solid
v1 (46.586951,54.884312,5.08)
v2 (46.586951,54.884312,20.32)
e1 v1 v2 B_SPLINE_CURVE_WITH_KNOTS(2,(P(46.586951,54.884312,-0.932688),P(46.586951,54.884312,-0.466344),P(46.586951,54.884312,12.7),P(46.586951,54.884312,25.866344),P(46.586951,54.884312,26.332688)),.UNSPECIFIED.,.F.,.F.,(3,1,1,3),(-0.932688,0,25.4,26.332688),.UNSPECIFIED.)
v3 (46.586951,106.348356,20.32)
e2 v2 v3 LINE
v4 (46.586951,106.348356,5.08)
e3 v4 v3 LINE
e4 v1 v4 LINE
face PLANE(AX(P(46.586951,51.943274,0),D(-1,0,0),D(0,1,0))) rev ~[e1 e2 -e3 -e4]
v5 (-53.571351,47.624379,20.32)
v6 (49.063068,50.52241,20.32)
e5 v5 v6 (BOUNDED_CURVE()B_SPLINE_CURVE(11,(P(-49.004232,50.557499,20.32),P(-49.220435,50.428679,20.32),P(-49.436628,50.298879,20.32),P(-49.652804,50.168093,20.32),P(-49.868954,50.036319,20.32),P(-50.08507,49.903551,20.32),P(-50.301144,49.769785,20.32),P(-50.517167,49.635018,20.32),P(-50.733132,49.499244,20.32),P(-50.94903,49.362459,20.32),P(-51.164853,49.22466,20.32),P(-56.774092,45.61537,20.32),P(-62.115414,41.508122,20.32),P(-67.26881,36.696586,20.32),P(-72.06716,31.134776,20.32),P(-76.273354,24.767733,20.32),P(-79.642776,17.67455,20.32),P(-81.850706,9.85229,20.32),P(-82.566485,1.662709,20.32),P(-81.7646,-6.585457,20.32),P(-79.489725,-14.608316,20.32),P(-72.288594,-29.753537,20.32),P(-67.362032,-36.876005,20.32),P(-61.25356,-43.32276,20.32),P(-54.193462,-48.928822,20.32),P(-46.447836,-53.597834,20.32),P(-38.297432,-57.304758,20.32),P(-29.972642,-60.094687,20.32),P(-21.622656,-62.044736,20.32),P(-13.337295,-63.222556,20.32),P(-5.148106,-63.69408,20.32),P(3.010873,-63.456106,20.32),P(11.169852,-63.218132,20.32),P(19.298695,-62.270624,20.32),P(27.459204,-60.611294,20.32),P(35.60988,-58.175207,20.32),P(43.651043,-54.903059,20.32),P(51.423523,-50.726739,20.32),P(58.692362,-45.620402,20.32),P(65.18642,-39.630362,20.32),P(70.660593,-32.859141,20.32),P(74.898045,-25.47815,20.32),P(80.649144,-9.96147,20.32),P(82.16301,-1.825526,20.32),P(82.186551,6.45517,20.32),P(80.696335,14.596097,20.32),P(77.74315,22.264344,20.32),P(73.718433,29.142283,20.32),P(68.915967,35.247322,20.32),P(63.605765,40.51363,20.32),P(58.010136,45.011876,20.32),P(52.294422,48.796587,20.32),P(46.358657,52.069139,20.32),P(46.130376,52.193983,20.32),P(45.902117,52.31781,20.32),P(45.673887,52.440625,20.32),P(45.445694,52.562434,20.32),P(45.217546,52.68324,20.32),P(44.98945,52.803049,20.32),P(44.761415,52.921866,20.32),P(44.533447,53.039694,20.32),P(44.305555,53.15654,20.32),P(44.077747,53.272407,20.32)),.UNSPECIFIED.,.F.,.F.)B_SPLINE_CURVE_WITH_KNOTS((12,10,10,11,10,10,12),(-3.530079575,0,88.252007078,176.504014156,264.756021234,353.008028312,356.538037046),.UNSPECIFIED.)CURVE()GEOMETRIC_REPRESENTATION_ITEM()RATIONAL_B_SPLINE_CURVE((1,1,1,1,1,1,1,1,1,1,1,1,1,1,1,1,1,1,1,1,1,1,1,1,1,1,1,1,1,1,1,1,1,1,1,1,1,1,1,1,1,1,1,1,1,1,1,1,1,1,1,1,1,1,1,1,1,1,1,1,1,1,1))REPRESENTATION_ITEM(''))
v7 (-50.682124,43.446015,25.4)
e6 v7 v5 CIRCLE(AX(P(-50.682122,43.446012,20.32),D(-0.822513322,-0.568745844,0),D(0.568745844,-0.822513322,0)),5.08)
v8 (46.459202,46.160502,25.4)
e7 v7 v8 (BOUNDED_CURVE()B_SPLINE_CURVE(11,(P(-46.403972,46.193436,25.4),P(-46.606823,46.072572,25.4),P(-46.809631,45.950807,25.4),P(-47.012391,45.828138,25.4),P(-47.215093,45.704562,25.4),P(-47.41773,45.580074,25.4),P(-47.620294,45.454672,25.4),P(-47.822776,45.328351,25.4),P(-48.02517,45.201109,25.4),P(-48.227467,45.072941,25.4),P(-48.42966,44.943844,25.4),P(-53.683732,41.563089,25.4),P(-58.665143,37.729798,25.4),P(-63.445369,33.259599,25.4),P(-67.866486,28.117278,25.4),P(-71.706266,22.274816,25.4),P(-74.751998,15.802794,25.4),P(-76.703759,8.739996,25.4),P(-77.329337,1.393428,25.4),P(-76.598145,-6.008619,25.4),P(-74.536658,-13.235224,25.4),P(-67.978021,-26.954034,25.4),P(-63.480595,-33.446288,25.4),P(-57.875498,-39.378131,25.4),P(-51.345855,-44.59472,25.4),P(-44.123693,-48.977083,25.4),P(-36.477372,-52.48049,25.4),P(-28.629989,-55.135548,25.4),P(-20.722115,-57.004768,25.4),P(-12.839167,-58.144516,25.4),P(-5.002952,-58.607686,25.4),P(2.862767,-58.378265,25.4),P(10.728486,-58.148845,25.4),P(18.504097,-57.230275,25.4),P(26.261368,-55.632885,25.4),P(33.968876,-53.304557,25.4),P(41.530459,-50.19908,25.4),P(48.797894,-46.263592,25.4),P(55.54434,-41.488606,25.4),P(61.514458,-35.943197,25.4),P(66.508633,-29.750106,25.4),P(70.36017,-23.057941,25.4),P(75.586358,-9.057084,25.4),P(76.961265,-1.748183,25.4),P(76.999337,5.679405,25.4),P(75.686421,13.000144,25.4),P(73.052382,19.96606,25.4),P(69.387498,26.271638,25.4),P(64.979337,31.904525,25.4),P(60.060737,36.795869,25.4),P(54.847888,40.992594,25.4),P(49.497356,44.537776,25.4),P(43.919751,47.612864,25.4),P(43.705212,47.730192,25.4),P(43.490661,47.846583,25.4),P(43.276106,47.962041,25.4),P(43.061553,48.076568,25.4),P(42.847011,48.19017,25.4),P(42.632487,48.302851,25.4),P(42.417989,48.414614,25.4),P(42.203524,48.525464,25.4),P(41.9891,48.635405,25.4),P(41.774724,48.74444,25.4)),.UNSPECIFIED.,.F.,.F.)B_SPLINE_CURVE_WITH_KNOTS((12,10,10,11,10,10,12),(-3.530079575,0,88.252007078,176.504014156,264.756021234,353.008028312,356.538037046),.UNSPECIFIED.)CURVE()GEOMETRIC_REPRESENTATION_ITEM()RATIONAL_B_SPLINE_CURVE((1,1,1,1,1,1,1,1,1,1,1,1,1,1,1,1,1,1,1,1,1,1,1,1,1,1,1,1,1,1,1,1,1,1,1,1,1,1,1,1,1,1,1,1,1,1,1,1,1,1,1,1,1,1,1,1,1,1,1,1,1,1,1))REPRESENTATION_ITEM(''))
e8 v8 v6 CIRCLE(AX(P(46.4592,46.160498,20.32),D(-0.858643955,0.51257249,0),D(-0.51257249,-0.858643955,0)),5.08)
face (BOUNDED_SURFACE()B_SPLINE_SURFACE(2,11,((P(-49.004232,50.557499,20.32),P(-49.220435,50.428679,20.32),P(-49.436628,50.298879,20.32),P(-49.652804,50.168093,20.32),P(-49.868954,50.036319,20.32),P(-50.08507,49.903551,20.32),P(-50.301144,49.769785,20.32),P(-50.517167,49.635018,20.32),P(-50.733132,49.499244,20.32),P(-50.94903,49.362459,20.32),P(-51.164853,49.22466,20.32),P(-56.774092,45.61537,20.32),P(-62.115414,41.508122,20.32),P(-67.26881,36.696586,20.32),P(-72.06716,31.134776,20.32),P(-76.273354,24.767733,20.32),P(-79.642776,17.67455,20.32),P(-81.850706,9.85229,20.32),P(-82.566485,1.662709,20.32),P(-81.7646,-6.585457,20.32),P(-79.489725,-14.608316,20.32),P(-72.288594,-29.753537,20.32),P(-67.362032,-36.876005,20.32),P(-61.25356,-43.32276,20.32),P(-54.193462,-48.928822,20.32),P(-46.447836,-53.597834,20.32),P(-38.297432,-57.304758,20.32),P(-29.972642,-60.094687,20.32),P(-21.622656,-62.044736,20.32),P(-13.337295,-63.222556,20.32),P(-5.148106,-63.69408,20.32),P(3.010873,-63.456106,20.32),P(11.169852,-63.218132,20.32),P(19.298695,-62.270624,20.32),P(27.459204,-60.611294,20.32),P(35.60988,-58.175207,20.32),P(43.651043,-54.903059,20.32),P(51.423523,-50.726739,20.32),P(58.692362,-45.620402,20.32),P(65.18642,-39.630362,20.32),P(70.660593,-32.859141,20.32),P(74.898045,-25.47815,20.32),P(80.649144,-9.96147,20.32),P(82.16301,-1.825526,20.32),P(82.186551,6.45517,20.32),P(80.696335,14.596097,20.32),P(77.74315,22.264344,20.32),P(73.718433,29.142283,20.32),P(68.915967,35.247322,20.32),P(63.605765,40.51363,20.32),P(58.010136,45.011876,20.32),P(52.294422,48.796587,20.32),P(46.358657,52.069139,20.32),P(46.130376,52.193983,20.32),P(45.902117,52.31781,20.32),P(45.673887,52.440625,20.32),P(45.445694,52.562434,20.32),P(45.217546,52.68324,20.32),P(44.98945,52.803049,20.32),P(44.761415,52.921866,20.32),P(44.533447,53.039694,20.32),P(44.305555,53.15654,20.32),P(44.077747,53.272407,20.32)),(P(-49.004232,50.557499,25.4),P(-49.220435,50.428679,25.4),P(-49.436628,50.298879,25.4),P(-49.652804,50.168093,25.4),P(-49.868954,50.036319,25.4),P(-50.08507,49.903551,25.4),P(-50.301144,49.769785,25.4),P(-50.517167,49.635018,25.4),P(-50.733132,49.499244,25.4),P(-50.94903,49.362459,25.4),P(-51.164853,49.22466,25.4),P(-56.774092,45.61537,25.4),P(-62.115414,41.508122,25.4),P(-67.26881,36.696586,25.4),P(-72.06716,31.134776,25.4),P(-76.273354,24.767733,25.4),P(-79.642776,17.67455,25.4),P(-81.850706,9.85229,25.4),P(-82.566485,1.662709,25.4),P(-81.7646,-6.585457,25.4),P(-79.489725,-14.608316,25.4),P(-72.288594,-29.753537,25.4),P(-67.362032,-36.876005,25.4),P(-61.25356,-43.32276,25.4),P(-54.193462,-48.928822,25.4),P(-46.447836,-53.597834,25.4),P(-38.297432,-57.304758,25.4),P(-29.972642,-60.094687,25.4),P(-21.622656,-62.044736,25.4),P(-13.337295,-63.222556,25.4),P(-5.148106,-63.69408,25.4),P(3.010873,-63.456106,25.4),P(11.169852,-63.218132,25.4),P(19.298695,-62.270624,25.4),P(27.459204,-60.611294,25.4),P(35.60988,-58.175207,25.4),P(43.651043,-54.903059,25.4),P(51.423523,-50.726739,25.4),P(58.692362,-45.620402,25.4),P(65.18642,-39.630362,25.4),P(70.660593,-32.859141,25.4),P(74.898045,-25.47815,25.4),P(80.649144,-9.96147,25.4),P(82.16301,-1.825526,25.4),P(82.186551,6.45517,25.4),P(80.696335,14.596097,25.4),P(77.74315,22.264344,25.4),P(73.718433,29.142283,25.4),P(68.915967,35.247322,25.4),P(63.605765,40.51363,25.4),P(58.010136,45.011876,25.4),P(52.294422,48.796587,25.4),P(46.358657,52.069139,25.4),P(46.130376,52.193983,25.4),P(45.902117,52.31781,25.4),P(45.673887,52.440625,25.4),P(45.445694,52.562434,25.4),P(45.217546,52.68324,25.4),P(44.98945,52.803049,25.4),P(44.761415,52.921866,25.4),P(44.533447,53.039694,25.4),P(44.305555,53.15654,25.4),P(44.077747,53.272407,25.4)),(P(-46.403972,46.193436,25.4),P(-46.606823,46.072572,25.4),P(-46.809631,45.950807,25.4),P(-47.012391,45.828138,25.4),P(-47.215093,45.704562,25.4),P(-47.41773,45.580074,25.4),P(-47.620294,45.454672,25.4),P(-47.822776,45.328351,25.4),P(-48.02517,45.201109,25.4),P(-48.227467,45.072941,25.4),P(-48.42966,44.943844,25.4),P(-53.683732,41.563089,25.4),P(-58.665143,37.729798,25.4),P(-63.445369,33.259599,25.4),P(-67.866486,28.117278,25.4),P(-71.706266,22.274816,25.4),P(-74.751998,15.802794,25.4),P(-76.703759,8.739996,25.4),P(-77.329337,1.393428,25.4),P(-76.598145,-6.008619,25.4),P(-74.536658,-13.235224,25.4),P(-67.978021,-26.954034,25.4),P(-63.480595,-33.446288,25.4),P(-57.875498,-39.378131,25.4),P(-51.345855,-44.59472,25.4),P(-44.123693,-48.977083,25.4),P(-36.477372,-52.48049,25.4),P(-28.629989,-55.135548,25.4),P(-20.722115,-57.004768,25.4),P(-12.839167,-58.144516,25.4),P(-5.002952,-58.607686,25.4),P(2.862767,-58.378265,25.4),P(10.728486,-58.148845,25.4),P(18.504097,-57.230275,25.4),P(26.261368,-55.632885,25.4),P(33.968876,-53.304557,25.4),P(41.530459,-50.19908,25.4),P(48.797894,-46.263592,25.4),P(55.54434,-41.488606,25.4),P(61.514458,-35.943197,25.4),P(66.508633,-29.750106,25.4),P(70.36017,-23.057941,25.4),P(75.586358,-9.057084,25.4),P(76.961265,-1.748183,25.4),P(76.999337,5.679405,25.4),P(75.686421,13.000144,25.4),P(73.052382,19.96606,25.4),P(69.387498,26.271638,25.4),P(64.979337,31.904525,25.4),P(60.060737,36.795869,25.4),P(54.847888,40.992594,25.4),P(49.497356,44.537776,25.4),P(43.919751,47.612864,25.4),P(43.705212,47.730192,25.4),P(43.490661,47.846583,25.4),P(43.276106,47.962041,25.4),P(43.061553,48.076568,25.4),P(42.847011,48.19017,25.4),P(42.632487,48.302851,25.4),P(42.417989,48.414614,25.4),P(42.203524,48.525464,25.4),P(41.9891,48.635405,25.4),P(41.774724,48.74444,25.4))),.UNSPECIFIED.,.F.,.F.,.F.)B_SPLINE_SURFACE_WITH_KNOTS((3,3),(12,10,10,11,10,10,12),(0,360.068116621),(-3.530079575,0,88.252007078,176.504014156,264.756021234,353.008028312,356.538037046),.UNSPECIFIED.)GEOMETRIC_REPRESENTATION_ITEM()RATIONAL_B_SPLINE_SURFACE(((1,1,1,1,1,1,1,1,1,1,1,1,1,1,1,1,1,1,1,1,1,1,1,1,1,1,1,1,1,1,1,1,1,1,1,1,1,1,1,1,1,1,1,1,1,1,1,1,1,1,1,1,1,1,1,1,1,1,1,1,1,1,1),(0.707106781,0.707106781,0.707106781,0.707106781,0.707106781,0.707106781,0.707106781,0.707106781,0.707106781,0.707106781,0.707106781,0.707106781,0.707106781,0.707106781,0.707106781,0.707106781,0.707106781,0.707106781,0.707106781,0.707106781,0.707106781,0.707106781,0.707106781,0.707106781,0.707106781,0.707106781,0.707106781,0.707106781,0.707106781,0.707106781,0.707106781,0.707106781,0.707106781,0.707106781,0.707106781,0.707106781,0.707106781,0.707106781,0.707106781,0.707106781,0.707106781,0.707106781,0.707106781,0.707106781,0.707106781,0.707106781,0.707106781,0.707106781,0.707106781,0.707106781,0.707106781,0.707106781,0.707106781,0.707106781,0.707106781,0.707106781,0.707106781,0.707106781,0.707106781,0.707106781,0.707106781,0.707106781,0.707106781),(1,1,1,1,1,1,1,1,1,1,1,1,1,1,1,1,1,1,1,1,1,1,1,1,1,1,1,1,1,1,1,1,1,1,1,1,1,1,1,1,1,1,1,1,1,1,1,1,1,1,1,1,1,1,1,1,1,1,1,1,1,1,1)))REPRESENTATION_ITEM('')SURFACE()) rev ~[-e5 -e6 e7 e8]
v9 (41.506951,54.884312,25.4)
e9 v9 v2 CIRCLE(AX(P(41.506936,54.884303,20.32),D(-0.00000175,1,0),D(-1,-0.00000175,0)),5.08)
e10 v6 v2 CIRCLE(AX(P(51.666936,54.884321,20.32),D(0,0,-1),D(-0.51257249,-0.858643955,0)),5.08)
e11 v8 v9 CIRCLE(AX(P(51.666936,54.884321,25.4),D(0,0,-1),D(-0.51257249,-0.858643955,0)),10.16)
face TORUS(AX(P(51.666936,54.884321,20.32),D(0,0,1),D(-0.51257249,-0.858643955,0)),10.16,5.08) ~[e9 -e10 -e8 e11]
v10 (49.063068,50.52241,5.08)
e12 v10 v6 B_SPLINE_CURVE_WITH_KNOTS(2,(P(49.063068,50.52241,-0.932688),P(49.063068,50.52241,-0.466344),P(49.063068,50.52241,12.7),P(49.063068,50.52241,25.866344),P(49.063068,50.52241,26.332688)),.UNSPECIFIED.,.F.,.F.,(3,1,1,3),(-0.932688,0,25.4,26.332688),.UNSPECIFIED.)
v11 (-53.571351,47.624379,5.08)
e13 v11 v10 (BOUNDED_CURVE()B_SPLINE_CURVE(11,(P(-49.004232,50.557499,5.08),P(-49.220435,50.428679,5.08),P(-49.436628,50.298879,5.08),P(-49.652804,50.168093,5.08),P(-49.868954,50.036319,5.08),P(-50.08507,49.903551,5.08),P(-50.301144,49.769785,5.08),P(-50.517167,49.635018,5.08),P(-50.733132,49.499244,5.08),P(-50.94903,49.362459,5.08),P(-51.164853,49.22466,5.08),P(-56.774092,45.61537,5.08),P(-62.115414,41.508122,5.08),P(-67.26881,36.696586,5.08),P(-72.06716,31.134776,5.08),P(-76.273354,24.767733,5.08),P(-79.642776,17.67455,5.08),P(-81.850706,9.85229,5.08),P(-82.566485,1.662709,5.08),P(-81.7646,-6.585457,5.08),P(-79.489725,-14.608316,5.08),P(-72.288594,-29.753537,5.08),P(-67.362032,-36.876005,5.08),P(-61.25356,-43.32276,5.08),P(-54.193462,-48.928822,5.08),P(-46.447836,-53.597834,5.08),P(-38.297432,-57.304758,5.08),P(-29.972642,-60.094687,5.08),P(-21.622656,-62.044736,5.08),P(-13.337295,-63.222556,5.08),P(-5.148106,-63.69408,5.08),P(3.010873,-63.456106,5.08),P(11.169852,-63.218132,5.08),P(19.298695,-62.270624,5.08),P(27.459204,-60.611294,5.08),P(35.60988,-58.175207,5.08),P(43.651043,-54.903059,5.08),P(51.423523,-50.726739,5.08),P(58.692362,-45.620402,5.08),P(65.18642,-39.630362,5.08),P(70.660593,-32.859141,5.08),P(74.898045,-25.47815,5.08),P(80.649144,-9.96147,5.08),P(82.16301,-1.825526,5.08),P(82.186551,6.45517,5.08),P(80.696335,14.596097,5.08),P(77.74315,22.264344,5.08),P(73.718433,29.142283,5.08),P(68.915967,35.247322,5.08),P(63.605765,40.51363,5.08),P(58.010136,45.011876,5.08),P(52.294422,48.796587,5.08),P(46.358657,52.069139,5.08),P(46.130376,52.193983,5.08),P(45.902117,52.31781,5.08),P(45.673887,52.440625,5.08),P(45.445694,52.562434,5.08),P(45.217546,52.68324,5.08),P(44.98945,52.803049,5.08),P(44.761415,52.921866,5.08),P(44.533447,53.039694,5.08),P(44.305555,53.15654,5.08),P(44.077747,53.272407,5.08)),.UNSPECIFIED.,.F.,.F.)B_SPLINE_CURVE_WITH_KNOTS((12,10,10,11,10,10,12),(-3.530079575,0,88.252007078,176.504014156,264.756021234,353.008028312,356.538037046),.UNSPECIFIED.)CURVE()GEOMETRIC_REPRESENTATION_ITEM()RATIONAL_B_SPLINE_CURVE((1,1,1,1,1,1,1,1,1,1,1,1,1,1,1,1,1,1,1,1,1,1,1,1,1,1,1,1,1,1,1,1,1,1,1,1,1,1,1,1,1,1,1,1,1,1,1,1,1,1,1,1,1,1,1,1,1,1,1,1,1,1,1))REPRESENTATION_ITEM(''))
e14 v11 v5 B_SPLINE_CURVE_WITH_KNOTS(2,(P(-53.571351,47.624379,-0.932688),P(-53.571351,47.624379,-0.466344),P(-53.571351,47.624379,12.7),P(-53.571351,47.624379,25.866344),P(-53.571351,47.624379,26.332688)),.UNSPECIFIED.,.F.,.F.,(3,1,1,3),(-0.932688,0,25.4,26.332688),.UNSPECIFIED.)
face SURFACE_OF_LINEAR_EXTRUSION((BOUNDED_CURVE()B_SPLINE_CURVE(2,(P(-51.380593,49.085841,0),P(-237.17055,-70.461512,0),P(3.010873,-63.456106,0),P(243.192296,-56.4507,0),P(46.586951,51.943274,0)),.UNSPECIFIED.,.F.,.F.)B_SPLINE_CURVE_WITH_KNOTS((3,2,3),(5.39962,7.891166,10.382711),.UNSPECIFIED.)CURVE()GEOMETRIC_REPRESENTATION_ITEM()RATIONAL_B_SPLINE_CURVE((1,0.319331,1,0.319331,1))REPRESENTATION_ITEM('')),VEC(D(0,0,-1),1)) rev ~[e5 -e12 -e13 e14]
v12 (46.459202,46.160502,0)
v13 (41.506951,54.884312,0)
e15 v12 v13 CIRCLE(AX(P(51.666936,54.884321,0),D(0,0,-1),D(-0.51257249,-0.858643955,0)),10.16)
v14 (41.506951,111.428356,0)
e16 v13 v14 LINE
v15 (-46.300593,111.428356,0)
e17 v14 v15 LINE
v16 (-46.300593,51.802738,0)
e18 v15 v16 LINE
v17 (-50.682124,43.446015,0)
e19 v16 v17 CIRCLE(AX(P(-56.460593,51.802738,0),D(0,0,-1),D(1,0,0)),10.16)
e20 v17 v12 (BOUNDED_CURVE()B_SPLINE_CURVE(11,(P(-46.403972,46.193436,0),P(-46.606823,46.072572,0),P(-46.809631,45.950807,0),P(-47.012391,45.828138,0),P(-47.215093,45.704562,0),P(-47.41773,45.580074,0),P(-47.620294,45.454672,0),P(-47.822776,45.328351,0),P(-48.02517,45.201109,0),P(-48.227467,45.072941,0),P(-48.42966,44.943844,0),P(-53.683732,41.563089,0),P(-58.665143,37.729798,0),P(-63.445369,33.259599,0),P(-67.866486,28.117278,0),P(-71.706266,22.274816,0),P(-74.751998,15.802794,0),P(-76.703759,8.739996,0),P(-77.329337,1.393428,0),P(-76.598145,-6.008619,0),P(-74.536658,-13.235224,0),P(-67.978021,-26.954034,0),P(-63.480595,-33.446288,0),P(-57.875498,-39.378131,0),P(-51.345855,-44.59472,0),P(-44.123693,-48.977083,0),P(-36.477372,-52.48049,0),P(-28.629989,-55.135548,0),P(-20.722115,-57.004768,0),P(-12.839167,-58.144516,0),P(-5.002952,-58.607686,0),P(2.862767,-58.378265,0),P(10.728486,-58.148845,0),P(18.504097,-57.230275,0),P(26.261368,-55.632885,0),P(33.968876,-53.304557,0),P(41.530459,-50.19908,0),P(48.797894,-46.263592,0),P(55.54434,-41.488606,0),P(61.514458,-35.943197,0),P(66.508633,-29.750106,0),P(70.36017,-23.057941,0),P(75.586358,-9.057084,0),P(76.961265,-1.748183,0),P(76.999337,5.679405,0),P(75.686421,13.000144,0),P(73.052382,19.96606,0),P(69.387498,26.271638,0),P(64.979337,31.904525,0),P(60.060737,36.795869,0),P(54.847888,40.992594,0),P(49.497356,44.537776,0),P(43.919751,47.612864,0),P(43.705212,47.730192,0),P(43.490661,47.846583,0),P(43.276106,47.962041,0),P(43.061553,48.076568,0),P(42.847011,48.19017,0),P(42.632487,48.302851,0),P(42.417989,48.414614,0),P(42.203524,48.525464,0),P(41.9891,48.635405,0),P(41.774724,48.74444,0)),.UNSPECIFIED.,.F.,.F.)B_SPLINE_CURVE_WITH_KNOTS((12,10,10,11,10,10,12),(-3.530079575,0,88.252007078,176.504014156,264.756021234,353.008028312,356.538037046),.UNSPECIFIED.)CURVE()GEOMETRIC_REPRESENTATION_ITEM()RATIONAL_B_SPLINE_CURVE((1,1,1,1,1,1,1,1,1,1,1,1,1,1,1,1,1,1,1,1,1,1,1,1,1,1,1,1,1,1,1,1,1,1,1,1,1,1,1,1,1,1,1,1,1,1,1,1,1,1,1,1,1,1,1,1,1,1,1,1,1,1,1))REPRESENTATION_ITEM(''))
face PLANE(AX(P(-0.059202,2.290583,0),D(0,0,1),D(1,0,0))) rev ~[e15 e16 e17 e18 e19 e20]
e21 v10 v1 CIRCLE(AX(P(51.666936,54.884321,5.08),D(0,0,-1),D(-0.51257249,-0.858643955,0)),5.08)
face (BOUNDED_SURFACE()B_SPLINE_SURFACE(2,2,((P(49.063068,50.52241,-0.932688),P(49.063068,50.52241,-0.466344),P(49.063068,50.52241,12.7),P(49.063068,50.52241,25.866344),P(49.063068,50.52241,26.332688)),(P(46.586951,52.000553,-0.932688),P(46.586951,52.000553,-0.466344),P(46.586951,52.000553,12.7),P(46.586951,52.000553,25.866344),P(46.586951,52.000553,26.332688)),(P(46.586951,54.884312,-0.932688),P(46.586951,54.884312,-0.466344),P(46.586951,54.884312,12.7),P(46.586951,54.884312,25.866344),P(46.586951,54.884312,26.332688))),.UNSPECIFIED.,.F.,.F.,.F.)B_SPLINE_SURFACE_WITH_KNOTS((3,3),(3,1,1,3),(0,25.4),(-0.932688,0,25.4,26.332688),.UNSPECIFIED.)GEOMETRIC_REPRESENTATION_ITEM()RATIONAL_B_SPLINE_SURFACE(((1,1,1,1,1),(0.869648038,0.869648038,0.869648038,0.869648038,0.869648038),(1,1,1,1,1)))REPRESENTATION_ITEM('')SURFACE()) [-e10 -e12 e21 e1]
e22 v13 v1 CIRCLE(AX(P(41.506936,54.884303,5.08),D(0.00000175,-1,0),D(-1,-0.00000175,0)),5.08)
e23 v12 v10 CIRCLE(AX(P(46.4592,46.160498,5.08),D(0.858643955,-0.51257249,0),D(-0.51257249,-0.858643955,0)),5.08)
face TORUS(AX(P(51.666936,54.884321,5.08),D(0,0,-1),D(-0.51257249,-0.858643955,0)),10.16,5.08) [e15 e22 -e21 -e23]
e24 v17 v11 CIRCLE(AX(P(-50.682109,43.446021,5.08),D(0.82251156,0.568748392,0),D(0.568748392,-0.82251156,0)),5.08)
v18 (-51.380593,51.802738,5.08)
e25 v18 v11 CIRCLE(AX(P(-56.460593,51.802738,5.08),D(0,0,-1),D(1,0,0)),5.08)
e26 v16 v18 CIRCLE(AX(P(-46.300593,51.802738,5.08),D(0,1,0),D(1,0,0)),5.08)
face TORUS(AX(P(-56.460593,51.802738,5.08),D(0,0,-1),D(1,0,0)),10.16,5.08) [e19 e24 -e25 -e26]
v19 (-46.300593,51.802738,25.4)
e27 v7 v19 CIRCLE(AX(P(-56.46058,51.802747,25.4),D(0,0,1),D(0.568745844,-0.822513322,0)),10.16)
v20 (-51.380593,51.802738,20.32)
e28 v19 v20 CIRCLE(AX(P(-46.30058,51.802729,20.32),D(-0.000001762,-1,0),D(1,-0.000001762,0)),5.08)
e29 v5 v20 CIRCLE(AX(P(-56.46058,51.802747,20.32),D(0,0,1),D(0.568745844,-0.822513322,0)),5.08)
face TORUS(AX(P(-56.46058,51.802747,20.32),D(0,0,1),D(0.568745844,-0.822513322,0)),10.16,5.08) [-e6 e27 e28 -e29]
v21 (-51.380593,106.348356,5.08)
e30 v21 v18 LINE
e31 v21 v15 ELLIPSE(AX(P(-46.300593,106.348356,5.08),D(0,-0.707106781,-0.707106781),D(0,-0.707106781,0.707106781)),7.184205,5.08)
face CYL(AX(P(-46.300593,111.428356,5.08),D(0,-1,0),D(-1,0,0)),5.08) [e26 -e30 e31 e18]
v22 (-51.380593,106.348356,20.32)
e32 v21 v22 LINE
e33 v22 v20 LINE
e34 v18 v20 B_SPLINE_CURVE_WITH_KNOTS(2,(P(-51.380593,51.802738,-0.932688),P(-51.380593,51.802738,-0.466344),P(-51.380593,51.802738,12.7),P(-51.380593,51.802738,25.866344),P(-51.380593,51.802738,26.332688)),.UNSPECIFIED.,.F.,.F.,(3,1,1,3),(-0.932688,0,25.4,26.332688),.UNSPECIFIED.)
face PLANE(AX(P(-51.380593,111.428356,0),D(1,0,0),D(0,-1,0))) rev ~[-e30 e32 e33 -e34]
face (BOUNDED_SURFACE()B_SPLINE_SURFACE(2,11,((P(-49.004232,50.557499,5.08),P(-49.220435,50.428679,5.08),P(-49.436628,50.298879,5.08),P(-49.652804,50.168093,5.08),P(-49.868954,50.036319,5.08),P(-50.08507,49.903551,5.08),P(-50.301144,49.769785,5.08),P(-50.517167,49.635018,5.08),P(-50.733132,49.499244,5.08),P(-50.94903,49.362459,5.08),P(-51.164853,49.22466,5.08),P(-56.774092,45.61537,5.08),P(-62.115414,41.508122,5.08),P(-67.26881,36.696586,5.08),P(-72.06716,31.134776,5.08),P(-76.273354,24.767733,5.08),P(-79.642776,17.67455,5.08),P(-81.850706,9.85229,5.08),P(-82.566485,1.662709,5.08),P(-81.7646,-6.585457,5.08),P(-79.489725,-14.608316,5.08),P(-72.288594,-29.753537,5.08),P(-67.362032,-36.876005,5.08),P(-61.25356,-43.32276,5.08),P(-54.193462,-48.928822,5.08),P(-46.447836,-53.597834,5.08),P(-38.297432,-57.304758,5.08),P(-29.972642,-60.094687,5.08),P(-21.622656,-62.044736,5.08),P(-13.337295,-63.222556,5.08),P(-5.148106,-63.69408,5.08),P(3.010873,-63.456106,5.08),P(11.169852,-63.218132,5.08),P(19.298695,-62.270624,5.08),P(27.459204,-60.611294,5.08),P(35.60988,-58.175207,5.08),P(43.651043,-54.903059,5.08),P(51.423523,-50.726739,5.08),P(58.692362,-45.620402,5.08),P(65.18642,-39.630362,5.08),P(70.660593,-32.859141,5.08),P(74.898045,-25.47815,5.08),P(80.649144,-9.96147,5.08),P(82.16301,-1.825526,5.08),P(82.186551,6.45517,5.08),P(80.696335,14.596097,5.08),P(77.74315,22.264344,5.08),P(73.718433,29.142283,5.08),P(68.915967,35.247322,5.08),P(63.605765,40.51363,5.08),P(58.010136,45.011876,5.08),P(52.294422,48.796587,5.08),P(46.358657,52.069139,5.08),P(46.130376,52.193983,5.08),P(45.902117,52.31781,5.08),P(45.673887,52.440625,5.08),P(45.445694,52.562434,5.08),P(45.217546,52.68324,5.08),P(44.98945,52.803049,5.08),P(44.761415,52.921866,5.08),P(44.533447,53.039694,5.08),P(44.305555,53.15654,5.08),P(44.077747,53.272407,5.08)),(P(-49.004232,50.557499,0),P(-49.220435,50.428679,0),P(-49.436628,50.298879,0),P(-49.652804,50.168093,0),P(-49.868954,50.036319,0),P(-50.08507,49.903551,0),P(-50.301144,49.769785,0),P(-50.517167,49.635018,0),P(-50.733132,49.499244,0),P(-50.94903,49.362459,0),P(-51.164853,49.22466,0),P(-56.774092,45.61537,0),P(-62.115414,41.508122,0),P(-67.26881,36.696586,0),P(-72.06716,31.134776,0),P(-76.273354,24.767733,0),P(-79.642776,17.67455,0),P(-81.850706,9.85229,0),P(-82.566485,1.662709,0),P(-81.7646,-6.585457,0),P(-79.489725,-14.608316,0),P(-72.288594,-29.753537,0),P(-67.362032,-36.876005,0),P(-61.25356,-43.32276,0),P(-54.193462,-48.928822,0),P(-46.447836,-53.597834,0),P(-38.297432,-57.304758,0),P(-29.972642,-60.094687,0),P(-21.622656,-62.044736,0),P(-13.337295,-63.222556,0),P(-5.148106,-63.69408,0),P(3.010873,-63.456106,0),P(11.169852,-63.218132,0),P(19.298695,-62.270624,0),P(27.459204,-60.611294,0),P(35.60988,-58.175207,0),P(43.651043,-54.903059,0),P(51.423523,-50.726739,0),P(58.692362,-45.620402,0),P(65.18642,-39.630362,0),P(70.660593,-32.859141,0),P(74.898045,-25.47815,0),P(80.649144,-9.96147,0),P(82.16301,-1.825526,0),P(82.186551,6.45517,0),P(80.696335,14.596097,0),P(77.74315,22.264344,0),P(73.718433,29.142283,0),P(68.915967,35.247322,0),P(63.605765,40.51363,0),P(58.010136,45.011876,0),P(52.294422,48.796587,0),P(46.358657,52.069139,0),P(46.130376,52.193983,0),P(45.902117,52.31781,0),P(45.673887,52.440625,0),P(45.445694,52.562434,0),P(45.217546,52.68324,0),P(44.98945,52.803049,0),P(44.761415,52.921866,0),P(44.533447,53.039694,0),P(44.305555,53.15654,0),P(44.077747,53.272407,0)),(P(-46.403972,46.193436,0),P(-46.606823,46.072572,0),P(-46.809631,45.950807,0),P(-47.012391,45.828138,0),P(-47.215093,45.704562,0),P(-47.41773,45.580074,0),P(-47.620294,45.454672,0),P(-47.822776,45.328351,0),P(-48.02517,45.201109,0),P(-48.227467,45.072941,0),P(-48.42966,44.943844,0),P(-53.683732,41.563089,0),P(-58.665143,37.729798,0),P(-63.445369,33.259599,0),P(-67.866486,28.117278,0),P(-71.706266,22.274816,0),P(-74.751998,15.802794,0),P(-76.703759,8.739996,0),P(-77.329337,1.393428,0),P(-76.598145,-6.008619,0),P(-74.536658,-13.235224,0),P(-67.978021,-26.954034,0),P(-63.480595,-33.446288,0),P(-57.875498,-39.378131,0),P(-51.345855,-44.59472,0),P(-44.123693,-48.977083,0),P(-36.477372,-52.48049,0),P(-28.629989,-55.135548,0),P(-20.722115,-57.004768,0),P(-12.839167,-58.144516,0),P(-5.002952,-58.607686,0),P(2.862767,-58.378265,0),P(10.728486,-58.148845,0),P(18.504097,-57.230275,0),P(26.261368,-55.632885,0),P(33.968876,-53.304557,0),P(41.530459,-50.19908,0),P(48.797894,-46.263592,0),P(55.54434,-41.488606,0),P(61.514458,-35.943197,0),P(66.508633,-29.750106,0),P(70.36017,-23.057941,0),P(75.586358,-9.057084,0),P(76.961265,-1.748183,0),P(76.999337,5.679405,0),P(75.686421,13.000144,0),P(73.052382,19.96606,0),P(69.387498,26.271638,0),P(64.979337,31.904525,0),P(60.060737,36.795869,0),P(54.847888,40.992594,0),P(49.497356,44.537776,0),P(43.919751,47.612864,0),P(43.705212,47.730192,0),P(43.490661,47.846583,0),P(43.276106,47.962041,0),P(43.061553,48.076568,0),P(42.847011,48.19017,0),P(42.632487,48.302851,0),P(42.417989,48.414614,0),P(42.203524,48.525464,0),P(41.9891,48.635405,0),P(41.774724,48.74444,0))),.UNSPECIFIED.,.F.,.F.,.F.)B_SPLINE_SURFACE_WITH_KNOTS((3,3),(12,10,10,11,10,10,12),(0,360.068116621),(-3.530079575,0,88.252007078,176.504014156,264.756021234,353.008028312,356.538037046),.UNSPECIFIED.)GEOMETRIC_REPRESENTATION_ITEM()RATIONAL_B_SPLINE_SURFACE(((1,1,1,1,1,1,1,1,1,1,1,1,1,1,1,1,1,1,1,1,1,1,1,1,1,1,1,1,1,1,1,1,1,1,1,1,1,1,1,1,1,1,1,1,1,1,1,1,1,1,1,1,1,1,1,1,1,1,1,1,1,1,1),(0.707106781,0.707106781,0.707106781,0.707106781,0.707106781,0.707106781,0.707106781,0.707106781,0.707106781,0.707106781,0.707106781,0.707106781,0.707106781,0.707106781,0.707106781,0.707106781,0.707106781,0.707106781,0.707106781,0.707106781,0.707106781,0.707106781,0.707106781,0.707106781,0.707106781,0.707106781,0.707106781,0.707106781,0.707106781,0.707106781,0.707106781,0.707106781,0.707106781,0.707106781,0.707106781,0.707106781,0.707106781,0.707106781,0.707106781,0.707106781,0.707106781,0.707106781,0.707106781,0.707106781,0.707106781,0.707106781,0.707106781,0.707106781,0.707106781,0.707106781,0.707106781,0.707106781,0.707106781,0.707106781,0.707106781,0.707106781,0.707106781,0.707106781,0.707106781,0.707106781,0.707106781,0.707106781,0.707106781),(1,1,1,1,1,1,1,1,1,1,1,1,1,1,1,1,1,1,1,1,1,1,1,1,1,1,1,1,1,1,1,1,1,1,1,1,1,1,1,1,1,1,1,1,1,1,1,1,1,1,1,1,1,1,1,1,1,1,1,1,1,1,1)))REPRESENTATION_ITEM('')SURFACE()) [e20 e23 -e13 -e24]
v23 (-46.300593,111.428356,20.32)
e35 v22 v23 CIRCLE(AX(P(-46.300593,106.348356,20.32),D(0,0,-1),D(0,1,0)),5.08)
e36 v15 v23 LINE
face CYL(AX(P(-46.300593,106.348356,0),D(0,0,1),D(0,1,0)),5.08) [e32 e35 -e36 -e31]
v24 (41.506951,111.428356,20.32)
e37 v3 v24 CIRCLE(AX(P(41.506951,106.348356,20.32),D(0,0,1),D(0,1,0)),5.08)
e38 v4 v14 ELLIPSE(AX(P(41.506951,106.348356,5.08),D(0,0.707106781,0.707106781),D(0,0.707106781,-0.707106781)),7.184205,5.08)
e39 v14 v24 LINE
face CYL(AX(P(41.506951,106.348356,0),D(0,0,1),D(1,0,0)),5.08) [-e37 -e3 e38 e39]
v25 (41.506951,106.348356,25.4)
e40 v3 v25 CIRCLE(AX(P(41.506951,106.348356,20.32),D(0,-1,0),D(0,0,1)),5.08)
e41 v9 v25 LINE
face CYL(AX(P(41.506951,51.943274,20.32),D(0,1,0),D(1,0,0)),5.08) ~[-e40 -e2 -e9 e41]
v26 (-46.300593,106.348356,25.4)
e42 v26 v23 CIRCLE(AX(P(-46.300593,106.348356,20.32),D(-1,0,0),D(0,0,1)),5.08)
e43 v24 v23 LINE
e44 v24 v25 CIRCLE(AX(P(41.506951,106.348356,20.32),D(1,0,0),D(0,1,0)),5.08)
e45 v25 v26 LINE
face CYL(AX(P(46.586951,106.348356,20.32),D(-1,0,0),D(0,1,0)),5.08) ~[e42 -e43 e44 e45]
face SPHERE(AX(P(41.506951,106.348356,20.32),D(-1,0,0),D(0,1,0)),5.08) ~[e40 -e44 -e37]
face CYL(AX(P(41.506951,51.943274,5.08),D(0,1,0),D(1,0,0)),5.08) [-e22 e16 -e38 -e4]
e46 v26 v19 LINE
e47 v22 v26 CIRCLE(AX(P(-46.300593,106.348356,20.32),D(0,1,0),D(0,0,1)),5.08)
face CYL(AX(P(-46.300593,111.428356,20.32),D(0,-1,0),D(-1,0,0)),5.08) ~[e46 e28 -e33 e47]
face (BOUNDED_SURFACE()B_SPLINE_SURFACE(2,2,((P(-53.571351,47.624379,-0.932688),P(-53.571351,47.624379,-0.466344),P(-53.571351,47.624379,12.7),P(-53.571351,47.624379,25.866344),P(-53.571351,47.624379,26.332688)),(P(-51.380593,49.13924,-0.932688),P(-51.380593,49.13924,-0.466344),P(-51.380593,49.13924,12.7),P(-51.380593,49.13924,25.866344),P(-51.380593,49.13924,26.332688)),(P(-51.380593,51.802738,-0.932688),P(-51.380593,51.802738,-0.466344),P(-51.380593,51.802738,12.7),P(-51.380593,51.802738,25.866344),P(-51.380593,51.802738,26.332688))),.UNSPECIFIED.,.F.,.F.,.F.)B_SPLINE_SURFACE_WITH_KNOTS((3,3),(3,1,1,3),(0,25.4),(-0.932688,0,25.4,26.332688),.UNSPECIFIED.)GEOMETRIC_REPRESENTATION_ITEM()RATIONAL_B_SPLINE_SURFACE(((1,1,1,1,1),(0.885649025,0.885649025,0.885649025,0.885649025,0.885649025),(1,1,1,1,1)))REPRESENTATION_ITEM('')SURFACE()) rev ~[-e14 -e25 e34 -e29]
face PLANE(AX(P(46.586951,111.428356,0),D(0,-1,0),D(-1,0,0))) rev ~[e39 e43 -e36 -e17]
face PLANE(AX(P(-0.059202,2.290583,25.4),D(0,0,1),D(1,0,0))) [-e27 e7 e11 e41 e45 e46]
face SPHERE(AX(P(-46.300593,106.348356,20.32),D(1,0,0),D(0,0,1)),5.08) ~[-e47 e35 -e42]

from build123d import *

# Parameters (mm, degrees)
F1_DEPTH = 25.4
F2_R     = 5.08


with BuildPart() as f1:
    # F0 (on Top) → F1 (new body)
    with BuildSketch(Plane.XY):
        with BuildLine():
            add(Edge.make_bspline(
                [(46.586951, 51.943274), (25.625325, 63.5), (0, 63.5)],
                knots=[4.099526, 4.099526, 4.099526, 4.712389, 4.712389, 4.712389], degree=2, weights=[1, 0.953416, 1]))
            add(Edge.make_bspline(
                [(0, 63.5), (-28.979378, 63.5), (-51.380593, 49.085841)],
                knots=[4.712389, 4.712389, 4.712389, 5.39962, 5.39962, 5.39962], degree=2, weights=[1, 0.941543, 1]))
            add(Edge.make_bspline(
                [(-51.380593, 49.085841), (-237.17055, -70.461512), (3.010873, -63.456106), (243.192296, -56.4507), (46.586951, 51.943274)],
                knots=[5.39962, 5.39962, 5.39962, 7.891166, 7.891166, 10.382711, 10.382711, 10.382711], degree=2, weights=[1, 0.319331, 1, 0.319331, 1]))
        make_face()
        with BuildLine():
            add(Edge.make_bspline(
                [(0, 63.5), (-28.979378, 63.5), (-51.380593, 49.085841)],
                knots=[4.712389, 4.712389, 4.712389, 5.39962, 5.39962, 5.39962], degree=2, weights=[1, 0.941543, 1]))
            add(Edge.make_bspline(
                [(46.586951, 51.943274), (25.625325, 63.5), (0, 63.5)],
                knots=[4.099526, 4.099526, 4.099526, 4.712389, 4.712389, 4.712389], degree=2, weights=[1, 0.953416, 1]))
            Line((46.586951, 51.943274), (46.586951, 111.428356))
            Line((46.586951, 111.428356), (-51.380593, 111.428356))
            Line((-51.380593, 111.428356), (-51.380593, 49.085841))
        make_face()
    extrude(amount=F1_DEPTH)

    # F2
    f2_edges = [f1.edges().sort_by_distance(p)[0] for p in [
        (2.790522, -63.462297, 0),
        (2.790522, -63.462297, 25.4),
        (46.586951, 81.685815, 0),
        (-2.396821, 111.428356, 25.4),
        (46.586951, 111.428356, 12.7),
        (-51.380593, 80.257099, 25.4),
        (46.586951, 81.685815, 25.4),
        (-51.380593, 49.085841, 12.7),
        (-51.380593, 80.257099, 0),
        (-51.380593, 111.428356, 12.7),
        (46.586951, 51.943274, 12.7),
    ]]
    fillet(f2_edges, radius=F2_R)


solid = f1.part
